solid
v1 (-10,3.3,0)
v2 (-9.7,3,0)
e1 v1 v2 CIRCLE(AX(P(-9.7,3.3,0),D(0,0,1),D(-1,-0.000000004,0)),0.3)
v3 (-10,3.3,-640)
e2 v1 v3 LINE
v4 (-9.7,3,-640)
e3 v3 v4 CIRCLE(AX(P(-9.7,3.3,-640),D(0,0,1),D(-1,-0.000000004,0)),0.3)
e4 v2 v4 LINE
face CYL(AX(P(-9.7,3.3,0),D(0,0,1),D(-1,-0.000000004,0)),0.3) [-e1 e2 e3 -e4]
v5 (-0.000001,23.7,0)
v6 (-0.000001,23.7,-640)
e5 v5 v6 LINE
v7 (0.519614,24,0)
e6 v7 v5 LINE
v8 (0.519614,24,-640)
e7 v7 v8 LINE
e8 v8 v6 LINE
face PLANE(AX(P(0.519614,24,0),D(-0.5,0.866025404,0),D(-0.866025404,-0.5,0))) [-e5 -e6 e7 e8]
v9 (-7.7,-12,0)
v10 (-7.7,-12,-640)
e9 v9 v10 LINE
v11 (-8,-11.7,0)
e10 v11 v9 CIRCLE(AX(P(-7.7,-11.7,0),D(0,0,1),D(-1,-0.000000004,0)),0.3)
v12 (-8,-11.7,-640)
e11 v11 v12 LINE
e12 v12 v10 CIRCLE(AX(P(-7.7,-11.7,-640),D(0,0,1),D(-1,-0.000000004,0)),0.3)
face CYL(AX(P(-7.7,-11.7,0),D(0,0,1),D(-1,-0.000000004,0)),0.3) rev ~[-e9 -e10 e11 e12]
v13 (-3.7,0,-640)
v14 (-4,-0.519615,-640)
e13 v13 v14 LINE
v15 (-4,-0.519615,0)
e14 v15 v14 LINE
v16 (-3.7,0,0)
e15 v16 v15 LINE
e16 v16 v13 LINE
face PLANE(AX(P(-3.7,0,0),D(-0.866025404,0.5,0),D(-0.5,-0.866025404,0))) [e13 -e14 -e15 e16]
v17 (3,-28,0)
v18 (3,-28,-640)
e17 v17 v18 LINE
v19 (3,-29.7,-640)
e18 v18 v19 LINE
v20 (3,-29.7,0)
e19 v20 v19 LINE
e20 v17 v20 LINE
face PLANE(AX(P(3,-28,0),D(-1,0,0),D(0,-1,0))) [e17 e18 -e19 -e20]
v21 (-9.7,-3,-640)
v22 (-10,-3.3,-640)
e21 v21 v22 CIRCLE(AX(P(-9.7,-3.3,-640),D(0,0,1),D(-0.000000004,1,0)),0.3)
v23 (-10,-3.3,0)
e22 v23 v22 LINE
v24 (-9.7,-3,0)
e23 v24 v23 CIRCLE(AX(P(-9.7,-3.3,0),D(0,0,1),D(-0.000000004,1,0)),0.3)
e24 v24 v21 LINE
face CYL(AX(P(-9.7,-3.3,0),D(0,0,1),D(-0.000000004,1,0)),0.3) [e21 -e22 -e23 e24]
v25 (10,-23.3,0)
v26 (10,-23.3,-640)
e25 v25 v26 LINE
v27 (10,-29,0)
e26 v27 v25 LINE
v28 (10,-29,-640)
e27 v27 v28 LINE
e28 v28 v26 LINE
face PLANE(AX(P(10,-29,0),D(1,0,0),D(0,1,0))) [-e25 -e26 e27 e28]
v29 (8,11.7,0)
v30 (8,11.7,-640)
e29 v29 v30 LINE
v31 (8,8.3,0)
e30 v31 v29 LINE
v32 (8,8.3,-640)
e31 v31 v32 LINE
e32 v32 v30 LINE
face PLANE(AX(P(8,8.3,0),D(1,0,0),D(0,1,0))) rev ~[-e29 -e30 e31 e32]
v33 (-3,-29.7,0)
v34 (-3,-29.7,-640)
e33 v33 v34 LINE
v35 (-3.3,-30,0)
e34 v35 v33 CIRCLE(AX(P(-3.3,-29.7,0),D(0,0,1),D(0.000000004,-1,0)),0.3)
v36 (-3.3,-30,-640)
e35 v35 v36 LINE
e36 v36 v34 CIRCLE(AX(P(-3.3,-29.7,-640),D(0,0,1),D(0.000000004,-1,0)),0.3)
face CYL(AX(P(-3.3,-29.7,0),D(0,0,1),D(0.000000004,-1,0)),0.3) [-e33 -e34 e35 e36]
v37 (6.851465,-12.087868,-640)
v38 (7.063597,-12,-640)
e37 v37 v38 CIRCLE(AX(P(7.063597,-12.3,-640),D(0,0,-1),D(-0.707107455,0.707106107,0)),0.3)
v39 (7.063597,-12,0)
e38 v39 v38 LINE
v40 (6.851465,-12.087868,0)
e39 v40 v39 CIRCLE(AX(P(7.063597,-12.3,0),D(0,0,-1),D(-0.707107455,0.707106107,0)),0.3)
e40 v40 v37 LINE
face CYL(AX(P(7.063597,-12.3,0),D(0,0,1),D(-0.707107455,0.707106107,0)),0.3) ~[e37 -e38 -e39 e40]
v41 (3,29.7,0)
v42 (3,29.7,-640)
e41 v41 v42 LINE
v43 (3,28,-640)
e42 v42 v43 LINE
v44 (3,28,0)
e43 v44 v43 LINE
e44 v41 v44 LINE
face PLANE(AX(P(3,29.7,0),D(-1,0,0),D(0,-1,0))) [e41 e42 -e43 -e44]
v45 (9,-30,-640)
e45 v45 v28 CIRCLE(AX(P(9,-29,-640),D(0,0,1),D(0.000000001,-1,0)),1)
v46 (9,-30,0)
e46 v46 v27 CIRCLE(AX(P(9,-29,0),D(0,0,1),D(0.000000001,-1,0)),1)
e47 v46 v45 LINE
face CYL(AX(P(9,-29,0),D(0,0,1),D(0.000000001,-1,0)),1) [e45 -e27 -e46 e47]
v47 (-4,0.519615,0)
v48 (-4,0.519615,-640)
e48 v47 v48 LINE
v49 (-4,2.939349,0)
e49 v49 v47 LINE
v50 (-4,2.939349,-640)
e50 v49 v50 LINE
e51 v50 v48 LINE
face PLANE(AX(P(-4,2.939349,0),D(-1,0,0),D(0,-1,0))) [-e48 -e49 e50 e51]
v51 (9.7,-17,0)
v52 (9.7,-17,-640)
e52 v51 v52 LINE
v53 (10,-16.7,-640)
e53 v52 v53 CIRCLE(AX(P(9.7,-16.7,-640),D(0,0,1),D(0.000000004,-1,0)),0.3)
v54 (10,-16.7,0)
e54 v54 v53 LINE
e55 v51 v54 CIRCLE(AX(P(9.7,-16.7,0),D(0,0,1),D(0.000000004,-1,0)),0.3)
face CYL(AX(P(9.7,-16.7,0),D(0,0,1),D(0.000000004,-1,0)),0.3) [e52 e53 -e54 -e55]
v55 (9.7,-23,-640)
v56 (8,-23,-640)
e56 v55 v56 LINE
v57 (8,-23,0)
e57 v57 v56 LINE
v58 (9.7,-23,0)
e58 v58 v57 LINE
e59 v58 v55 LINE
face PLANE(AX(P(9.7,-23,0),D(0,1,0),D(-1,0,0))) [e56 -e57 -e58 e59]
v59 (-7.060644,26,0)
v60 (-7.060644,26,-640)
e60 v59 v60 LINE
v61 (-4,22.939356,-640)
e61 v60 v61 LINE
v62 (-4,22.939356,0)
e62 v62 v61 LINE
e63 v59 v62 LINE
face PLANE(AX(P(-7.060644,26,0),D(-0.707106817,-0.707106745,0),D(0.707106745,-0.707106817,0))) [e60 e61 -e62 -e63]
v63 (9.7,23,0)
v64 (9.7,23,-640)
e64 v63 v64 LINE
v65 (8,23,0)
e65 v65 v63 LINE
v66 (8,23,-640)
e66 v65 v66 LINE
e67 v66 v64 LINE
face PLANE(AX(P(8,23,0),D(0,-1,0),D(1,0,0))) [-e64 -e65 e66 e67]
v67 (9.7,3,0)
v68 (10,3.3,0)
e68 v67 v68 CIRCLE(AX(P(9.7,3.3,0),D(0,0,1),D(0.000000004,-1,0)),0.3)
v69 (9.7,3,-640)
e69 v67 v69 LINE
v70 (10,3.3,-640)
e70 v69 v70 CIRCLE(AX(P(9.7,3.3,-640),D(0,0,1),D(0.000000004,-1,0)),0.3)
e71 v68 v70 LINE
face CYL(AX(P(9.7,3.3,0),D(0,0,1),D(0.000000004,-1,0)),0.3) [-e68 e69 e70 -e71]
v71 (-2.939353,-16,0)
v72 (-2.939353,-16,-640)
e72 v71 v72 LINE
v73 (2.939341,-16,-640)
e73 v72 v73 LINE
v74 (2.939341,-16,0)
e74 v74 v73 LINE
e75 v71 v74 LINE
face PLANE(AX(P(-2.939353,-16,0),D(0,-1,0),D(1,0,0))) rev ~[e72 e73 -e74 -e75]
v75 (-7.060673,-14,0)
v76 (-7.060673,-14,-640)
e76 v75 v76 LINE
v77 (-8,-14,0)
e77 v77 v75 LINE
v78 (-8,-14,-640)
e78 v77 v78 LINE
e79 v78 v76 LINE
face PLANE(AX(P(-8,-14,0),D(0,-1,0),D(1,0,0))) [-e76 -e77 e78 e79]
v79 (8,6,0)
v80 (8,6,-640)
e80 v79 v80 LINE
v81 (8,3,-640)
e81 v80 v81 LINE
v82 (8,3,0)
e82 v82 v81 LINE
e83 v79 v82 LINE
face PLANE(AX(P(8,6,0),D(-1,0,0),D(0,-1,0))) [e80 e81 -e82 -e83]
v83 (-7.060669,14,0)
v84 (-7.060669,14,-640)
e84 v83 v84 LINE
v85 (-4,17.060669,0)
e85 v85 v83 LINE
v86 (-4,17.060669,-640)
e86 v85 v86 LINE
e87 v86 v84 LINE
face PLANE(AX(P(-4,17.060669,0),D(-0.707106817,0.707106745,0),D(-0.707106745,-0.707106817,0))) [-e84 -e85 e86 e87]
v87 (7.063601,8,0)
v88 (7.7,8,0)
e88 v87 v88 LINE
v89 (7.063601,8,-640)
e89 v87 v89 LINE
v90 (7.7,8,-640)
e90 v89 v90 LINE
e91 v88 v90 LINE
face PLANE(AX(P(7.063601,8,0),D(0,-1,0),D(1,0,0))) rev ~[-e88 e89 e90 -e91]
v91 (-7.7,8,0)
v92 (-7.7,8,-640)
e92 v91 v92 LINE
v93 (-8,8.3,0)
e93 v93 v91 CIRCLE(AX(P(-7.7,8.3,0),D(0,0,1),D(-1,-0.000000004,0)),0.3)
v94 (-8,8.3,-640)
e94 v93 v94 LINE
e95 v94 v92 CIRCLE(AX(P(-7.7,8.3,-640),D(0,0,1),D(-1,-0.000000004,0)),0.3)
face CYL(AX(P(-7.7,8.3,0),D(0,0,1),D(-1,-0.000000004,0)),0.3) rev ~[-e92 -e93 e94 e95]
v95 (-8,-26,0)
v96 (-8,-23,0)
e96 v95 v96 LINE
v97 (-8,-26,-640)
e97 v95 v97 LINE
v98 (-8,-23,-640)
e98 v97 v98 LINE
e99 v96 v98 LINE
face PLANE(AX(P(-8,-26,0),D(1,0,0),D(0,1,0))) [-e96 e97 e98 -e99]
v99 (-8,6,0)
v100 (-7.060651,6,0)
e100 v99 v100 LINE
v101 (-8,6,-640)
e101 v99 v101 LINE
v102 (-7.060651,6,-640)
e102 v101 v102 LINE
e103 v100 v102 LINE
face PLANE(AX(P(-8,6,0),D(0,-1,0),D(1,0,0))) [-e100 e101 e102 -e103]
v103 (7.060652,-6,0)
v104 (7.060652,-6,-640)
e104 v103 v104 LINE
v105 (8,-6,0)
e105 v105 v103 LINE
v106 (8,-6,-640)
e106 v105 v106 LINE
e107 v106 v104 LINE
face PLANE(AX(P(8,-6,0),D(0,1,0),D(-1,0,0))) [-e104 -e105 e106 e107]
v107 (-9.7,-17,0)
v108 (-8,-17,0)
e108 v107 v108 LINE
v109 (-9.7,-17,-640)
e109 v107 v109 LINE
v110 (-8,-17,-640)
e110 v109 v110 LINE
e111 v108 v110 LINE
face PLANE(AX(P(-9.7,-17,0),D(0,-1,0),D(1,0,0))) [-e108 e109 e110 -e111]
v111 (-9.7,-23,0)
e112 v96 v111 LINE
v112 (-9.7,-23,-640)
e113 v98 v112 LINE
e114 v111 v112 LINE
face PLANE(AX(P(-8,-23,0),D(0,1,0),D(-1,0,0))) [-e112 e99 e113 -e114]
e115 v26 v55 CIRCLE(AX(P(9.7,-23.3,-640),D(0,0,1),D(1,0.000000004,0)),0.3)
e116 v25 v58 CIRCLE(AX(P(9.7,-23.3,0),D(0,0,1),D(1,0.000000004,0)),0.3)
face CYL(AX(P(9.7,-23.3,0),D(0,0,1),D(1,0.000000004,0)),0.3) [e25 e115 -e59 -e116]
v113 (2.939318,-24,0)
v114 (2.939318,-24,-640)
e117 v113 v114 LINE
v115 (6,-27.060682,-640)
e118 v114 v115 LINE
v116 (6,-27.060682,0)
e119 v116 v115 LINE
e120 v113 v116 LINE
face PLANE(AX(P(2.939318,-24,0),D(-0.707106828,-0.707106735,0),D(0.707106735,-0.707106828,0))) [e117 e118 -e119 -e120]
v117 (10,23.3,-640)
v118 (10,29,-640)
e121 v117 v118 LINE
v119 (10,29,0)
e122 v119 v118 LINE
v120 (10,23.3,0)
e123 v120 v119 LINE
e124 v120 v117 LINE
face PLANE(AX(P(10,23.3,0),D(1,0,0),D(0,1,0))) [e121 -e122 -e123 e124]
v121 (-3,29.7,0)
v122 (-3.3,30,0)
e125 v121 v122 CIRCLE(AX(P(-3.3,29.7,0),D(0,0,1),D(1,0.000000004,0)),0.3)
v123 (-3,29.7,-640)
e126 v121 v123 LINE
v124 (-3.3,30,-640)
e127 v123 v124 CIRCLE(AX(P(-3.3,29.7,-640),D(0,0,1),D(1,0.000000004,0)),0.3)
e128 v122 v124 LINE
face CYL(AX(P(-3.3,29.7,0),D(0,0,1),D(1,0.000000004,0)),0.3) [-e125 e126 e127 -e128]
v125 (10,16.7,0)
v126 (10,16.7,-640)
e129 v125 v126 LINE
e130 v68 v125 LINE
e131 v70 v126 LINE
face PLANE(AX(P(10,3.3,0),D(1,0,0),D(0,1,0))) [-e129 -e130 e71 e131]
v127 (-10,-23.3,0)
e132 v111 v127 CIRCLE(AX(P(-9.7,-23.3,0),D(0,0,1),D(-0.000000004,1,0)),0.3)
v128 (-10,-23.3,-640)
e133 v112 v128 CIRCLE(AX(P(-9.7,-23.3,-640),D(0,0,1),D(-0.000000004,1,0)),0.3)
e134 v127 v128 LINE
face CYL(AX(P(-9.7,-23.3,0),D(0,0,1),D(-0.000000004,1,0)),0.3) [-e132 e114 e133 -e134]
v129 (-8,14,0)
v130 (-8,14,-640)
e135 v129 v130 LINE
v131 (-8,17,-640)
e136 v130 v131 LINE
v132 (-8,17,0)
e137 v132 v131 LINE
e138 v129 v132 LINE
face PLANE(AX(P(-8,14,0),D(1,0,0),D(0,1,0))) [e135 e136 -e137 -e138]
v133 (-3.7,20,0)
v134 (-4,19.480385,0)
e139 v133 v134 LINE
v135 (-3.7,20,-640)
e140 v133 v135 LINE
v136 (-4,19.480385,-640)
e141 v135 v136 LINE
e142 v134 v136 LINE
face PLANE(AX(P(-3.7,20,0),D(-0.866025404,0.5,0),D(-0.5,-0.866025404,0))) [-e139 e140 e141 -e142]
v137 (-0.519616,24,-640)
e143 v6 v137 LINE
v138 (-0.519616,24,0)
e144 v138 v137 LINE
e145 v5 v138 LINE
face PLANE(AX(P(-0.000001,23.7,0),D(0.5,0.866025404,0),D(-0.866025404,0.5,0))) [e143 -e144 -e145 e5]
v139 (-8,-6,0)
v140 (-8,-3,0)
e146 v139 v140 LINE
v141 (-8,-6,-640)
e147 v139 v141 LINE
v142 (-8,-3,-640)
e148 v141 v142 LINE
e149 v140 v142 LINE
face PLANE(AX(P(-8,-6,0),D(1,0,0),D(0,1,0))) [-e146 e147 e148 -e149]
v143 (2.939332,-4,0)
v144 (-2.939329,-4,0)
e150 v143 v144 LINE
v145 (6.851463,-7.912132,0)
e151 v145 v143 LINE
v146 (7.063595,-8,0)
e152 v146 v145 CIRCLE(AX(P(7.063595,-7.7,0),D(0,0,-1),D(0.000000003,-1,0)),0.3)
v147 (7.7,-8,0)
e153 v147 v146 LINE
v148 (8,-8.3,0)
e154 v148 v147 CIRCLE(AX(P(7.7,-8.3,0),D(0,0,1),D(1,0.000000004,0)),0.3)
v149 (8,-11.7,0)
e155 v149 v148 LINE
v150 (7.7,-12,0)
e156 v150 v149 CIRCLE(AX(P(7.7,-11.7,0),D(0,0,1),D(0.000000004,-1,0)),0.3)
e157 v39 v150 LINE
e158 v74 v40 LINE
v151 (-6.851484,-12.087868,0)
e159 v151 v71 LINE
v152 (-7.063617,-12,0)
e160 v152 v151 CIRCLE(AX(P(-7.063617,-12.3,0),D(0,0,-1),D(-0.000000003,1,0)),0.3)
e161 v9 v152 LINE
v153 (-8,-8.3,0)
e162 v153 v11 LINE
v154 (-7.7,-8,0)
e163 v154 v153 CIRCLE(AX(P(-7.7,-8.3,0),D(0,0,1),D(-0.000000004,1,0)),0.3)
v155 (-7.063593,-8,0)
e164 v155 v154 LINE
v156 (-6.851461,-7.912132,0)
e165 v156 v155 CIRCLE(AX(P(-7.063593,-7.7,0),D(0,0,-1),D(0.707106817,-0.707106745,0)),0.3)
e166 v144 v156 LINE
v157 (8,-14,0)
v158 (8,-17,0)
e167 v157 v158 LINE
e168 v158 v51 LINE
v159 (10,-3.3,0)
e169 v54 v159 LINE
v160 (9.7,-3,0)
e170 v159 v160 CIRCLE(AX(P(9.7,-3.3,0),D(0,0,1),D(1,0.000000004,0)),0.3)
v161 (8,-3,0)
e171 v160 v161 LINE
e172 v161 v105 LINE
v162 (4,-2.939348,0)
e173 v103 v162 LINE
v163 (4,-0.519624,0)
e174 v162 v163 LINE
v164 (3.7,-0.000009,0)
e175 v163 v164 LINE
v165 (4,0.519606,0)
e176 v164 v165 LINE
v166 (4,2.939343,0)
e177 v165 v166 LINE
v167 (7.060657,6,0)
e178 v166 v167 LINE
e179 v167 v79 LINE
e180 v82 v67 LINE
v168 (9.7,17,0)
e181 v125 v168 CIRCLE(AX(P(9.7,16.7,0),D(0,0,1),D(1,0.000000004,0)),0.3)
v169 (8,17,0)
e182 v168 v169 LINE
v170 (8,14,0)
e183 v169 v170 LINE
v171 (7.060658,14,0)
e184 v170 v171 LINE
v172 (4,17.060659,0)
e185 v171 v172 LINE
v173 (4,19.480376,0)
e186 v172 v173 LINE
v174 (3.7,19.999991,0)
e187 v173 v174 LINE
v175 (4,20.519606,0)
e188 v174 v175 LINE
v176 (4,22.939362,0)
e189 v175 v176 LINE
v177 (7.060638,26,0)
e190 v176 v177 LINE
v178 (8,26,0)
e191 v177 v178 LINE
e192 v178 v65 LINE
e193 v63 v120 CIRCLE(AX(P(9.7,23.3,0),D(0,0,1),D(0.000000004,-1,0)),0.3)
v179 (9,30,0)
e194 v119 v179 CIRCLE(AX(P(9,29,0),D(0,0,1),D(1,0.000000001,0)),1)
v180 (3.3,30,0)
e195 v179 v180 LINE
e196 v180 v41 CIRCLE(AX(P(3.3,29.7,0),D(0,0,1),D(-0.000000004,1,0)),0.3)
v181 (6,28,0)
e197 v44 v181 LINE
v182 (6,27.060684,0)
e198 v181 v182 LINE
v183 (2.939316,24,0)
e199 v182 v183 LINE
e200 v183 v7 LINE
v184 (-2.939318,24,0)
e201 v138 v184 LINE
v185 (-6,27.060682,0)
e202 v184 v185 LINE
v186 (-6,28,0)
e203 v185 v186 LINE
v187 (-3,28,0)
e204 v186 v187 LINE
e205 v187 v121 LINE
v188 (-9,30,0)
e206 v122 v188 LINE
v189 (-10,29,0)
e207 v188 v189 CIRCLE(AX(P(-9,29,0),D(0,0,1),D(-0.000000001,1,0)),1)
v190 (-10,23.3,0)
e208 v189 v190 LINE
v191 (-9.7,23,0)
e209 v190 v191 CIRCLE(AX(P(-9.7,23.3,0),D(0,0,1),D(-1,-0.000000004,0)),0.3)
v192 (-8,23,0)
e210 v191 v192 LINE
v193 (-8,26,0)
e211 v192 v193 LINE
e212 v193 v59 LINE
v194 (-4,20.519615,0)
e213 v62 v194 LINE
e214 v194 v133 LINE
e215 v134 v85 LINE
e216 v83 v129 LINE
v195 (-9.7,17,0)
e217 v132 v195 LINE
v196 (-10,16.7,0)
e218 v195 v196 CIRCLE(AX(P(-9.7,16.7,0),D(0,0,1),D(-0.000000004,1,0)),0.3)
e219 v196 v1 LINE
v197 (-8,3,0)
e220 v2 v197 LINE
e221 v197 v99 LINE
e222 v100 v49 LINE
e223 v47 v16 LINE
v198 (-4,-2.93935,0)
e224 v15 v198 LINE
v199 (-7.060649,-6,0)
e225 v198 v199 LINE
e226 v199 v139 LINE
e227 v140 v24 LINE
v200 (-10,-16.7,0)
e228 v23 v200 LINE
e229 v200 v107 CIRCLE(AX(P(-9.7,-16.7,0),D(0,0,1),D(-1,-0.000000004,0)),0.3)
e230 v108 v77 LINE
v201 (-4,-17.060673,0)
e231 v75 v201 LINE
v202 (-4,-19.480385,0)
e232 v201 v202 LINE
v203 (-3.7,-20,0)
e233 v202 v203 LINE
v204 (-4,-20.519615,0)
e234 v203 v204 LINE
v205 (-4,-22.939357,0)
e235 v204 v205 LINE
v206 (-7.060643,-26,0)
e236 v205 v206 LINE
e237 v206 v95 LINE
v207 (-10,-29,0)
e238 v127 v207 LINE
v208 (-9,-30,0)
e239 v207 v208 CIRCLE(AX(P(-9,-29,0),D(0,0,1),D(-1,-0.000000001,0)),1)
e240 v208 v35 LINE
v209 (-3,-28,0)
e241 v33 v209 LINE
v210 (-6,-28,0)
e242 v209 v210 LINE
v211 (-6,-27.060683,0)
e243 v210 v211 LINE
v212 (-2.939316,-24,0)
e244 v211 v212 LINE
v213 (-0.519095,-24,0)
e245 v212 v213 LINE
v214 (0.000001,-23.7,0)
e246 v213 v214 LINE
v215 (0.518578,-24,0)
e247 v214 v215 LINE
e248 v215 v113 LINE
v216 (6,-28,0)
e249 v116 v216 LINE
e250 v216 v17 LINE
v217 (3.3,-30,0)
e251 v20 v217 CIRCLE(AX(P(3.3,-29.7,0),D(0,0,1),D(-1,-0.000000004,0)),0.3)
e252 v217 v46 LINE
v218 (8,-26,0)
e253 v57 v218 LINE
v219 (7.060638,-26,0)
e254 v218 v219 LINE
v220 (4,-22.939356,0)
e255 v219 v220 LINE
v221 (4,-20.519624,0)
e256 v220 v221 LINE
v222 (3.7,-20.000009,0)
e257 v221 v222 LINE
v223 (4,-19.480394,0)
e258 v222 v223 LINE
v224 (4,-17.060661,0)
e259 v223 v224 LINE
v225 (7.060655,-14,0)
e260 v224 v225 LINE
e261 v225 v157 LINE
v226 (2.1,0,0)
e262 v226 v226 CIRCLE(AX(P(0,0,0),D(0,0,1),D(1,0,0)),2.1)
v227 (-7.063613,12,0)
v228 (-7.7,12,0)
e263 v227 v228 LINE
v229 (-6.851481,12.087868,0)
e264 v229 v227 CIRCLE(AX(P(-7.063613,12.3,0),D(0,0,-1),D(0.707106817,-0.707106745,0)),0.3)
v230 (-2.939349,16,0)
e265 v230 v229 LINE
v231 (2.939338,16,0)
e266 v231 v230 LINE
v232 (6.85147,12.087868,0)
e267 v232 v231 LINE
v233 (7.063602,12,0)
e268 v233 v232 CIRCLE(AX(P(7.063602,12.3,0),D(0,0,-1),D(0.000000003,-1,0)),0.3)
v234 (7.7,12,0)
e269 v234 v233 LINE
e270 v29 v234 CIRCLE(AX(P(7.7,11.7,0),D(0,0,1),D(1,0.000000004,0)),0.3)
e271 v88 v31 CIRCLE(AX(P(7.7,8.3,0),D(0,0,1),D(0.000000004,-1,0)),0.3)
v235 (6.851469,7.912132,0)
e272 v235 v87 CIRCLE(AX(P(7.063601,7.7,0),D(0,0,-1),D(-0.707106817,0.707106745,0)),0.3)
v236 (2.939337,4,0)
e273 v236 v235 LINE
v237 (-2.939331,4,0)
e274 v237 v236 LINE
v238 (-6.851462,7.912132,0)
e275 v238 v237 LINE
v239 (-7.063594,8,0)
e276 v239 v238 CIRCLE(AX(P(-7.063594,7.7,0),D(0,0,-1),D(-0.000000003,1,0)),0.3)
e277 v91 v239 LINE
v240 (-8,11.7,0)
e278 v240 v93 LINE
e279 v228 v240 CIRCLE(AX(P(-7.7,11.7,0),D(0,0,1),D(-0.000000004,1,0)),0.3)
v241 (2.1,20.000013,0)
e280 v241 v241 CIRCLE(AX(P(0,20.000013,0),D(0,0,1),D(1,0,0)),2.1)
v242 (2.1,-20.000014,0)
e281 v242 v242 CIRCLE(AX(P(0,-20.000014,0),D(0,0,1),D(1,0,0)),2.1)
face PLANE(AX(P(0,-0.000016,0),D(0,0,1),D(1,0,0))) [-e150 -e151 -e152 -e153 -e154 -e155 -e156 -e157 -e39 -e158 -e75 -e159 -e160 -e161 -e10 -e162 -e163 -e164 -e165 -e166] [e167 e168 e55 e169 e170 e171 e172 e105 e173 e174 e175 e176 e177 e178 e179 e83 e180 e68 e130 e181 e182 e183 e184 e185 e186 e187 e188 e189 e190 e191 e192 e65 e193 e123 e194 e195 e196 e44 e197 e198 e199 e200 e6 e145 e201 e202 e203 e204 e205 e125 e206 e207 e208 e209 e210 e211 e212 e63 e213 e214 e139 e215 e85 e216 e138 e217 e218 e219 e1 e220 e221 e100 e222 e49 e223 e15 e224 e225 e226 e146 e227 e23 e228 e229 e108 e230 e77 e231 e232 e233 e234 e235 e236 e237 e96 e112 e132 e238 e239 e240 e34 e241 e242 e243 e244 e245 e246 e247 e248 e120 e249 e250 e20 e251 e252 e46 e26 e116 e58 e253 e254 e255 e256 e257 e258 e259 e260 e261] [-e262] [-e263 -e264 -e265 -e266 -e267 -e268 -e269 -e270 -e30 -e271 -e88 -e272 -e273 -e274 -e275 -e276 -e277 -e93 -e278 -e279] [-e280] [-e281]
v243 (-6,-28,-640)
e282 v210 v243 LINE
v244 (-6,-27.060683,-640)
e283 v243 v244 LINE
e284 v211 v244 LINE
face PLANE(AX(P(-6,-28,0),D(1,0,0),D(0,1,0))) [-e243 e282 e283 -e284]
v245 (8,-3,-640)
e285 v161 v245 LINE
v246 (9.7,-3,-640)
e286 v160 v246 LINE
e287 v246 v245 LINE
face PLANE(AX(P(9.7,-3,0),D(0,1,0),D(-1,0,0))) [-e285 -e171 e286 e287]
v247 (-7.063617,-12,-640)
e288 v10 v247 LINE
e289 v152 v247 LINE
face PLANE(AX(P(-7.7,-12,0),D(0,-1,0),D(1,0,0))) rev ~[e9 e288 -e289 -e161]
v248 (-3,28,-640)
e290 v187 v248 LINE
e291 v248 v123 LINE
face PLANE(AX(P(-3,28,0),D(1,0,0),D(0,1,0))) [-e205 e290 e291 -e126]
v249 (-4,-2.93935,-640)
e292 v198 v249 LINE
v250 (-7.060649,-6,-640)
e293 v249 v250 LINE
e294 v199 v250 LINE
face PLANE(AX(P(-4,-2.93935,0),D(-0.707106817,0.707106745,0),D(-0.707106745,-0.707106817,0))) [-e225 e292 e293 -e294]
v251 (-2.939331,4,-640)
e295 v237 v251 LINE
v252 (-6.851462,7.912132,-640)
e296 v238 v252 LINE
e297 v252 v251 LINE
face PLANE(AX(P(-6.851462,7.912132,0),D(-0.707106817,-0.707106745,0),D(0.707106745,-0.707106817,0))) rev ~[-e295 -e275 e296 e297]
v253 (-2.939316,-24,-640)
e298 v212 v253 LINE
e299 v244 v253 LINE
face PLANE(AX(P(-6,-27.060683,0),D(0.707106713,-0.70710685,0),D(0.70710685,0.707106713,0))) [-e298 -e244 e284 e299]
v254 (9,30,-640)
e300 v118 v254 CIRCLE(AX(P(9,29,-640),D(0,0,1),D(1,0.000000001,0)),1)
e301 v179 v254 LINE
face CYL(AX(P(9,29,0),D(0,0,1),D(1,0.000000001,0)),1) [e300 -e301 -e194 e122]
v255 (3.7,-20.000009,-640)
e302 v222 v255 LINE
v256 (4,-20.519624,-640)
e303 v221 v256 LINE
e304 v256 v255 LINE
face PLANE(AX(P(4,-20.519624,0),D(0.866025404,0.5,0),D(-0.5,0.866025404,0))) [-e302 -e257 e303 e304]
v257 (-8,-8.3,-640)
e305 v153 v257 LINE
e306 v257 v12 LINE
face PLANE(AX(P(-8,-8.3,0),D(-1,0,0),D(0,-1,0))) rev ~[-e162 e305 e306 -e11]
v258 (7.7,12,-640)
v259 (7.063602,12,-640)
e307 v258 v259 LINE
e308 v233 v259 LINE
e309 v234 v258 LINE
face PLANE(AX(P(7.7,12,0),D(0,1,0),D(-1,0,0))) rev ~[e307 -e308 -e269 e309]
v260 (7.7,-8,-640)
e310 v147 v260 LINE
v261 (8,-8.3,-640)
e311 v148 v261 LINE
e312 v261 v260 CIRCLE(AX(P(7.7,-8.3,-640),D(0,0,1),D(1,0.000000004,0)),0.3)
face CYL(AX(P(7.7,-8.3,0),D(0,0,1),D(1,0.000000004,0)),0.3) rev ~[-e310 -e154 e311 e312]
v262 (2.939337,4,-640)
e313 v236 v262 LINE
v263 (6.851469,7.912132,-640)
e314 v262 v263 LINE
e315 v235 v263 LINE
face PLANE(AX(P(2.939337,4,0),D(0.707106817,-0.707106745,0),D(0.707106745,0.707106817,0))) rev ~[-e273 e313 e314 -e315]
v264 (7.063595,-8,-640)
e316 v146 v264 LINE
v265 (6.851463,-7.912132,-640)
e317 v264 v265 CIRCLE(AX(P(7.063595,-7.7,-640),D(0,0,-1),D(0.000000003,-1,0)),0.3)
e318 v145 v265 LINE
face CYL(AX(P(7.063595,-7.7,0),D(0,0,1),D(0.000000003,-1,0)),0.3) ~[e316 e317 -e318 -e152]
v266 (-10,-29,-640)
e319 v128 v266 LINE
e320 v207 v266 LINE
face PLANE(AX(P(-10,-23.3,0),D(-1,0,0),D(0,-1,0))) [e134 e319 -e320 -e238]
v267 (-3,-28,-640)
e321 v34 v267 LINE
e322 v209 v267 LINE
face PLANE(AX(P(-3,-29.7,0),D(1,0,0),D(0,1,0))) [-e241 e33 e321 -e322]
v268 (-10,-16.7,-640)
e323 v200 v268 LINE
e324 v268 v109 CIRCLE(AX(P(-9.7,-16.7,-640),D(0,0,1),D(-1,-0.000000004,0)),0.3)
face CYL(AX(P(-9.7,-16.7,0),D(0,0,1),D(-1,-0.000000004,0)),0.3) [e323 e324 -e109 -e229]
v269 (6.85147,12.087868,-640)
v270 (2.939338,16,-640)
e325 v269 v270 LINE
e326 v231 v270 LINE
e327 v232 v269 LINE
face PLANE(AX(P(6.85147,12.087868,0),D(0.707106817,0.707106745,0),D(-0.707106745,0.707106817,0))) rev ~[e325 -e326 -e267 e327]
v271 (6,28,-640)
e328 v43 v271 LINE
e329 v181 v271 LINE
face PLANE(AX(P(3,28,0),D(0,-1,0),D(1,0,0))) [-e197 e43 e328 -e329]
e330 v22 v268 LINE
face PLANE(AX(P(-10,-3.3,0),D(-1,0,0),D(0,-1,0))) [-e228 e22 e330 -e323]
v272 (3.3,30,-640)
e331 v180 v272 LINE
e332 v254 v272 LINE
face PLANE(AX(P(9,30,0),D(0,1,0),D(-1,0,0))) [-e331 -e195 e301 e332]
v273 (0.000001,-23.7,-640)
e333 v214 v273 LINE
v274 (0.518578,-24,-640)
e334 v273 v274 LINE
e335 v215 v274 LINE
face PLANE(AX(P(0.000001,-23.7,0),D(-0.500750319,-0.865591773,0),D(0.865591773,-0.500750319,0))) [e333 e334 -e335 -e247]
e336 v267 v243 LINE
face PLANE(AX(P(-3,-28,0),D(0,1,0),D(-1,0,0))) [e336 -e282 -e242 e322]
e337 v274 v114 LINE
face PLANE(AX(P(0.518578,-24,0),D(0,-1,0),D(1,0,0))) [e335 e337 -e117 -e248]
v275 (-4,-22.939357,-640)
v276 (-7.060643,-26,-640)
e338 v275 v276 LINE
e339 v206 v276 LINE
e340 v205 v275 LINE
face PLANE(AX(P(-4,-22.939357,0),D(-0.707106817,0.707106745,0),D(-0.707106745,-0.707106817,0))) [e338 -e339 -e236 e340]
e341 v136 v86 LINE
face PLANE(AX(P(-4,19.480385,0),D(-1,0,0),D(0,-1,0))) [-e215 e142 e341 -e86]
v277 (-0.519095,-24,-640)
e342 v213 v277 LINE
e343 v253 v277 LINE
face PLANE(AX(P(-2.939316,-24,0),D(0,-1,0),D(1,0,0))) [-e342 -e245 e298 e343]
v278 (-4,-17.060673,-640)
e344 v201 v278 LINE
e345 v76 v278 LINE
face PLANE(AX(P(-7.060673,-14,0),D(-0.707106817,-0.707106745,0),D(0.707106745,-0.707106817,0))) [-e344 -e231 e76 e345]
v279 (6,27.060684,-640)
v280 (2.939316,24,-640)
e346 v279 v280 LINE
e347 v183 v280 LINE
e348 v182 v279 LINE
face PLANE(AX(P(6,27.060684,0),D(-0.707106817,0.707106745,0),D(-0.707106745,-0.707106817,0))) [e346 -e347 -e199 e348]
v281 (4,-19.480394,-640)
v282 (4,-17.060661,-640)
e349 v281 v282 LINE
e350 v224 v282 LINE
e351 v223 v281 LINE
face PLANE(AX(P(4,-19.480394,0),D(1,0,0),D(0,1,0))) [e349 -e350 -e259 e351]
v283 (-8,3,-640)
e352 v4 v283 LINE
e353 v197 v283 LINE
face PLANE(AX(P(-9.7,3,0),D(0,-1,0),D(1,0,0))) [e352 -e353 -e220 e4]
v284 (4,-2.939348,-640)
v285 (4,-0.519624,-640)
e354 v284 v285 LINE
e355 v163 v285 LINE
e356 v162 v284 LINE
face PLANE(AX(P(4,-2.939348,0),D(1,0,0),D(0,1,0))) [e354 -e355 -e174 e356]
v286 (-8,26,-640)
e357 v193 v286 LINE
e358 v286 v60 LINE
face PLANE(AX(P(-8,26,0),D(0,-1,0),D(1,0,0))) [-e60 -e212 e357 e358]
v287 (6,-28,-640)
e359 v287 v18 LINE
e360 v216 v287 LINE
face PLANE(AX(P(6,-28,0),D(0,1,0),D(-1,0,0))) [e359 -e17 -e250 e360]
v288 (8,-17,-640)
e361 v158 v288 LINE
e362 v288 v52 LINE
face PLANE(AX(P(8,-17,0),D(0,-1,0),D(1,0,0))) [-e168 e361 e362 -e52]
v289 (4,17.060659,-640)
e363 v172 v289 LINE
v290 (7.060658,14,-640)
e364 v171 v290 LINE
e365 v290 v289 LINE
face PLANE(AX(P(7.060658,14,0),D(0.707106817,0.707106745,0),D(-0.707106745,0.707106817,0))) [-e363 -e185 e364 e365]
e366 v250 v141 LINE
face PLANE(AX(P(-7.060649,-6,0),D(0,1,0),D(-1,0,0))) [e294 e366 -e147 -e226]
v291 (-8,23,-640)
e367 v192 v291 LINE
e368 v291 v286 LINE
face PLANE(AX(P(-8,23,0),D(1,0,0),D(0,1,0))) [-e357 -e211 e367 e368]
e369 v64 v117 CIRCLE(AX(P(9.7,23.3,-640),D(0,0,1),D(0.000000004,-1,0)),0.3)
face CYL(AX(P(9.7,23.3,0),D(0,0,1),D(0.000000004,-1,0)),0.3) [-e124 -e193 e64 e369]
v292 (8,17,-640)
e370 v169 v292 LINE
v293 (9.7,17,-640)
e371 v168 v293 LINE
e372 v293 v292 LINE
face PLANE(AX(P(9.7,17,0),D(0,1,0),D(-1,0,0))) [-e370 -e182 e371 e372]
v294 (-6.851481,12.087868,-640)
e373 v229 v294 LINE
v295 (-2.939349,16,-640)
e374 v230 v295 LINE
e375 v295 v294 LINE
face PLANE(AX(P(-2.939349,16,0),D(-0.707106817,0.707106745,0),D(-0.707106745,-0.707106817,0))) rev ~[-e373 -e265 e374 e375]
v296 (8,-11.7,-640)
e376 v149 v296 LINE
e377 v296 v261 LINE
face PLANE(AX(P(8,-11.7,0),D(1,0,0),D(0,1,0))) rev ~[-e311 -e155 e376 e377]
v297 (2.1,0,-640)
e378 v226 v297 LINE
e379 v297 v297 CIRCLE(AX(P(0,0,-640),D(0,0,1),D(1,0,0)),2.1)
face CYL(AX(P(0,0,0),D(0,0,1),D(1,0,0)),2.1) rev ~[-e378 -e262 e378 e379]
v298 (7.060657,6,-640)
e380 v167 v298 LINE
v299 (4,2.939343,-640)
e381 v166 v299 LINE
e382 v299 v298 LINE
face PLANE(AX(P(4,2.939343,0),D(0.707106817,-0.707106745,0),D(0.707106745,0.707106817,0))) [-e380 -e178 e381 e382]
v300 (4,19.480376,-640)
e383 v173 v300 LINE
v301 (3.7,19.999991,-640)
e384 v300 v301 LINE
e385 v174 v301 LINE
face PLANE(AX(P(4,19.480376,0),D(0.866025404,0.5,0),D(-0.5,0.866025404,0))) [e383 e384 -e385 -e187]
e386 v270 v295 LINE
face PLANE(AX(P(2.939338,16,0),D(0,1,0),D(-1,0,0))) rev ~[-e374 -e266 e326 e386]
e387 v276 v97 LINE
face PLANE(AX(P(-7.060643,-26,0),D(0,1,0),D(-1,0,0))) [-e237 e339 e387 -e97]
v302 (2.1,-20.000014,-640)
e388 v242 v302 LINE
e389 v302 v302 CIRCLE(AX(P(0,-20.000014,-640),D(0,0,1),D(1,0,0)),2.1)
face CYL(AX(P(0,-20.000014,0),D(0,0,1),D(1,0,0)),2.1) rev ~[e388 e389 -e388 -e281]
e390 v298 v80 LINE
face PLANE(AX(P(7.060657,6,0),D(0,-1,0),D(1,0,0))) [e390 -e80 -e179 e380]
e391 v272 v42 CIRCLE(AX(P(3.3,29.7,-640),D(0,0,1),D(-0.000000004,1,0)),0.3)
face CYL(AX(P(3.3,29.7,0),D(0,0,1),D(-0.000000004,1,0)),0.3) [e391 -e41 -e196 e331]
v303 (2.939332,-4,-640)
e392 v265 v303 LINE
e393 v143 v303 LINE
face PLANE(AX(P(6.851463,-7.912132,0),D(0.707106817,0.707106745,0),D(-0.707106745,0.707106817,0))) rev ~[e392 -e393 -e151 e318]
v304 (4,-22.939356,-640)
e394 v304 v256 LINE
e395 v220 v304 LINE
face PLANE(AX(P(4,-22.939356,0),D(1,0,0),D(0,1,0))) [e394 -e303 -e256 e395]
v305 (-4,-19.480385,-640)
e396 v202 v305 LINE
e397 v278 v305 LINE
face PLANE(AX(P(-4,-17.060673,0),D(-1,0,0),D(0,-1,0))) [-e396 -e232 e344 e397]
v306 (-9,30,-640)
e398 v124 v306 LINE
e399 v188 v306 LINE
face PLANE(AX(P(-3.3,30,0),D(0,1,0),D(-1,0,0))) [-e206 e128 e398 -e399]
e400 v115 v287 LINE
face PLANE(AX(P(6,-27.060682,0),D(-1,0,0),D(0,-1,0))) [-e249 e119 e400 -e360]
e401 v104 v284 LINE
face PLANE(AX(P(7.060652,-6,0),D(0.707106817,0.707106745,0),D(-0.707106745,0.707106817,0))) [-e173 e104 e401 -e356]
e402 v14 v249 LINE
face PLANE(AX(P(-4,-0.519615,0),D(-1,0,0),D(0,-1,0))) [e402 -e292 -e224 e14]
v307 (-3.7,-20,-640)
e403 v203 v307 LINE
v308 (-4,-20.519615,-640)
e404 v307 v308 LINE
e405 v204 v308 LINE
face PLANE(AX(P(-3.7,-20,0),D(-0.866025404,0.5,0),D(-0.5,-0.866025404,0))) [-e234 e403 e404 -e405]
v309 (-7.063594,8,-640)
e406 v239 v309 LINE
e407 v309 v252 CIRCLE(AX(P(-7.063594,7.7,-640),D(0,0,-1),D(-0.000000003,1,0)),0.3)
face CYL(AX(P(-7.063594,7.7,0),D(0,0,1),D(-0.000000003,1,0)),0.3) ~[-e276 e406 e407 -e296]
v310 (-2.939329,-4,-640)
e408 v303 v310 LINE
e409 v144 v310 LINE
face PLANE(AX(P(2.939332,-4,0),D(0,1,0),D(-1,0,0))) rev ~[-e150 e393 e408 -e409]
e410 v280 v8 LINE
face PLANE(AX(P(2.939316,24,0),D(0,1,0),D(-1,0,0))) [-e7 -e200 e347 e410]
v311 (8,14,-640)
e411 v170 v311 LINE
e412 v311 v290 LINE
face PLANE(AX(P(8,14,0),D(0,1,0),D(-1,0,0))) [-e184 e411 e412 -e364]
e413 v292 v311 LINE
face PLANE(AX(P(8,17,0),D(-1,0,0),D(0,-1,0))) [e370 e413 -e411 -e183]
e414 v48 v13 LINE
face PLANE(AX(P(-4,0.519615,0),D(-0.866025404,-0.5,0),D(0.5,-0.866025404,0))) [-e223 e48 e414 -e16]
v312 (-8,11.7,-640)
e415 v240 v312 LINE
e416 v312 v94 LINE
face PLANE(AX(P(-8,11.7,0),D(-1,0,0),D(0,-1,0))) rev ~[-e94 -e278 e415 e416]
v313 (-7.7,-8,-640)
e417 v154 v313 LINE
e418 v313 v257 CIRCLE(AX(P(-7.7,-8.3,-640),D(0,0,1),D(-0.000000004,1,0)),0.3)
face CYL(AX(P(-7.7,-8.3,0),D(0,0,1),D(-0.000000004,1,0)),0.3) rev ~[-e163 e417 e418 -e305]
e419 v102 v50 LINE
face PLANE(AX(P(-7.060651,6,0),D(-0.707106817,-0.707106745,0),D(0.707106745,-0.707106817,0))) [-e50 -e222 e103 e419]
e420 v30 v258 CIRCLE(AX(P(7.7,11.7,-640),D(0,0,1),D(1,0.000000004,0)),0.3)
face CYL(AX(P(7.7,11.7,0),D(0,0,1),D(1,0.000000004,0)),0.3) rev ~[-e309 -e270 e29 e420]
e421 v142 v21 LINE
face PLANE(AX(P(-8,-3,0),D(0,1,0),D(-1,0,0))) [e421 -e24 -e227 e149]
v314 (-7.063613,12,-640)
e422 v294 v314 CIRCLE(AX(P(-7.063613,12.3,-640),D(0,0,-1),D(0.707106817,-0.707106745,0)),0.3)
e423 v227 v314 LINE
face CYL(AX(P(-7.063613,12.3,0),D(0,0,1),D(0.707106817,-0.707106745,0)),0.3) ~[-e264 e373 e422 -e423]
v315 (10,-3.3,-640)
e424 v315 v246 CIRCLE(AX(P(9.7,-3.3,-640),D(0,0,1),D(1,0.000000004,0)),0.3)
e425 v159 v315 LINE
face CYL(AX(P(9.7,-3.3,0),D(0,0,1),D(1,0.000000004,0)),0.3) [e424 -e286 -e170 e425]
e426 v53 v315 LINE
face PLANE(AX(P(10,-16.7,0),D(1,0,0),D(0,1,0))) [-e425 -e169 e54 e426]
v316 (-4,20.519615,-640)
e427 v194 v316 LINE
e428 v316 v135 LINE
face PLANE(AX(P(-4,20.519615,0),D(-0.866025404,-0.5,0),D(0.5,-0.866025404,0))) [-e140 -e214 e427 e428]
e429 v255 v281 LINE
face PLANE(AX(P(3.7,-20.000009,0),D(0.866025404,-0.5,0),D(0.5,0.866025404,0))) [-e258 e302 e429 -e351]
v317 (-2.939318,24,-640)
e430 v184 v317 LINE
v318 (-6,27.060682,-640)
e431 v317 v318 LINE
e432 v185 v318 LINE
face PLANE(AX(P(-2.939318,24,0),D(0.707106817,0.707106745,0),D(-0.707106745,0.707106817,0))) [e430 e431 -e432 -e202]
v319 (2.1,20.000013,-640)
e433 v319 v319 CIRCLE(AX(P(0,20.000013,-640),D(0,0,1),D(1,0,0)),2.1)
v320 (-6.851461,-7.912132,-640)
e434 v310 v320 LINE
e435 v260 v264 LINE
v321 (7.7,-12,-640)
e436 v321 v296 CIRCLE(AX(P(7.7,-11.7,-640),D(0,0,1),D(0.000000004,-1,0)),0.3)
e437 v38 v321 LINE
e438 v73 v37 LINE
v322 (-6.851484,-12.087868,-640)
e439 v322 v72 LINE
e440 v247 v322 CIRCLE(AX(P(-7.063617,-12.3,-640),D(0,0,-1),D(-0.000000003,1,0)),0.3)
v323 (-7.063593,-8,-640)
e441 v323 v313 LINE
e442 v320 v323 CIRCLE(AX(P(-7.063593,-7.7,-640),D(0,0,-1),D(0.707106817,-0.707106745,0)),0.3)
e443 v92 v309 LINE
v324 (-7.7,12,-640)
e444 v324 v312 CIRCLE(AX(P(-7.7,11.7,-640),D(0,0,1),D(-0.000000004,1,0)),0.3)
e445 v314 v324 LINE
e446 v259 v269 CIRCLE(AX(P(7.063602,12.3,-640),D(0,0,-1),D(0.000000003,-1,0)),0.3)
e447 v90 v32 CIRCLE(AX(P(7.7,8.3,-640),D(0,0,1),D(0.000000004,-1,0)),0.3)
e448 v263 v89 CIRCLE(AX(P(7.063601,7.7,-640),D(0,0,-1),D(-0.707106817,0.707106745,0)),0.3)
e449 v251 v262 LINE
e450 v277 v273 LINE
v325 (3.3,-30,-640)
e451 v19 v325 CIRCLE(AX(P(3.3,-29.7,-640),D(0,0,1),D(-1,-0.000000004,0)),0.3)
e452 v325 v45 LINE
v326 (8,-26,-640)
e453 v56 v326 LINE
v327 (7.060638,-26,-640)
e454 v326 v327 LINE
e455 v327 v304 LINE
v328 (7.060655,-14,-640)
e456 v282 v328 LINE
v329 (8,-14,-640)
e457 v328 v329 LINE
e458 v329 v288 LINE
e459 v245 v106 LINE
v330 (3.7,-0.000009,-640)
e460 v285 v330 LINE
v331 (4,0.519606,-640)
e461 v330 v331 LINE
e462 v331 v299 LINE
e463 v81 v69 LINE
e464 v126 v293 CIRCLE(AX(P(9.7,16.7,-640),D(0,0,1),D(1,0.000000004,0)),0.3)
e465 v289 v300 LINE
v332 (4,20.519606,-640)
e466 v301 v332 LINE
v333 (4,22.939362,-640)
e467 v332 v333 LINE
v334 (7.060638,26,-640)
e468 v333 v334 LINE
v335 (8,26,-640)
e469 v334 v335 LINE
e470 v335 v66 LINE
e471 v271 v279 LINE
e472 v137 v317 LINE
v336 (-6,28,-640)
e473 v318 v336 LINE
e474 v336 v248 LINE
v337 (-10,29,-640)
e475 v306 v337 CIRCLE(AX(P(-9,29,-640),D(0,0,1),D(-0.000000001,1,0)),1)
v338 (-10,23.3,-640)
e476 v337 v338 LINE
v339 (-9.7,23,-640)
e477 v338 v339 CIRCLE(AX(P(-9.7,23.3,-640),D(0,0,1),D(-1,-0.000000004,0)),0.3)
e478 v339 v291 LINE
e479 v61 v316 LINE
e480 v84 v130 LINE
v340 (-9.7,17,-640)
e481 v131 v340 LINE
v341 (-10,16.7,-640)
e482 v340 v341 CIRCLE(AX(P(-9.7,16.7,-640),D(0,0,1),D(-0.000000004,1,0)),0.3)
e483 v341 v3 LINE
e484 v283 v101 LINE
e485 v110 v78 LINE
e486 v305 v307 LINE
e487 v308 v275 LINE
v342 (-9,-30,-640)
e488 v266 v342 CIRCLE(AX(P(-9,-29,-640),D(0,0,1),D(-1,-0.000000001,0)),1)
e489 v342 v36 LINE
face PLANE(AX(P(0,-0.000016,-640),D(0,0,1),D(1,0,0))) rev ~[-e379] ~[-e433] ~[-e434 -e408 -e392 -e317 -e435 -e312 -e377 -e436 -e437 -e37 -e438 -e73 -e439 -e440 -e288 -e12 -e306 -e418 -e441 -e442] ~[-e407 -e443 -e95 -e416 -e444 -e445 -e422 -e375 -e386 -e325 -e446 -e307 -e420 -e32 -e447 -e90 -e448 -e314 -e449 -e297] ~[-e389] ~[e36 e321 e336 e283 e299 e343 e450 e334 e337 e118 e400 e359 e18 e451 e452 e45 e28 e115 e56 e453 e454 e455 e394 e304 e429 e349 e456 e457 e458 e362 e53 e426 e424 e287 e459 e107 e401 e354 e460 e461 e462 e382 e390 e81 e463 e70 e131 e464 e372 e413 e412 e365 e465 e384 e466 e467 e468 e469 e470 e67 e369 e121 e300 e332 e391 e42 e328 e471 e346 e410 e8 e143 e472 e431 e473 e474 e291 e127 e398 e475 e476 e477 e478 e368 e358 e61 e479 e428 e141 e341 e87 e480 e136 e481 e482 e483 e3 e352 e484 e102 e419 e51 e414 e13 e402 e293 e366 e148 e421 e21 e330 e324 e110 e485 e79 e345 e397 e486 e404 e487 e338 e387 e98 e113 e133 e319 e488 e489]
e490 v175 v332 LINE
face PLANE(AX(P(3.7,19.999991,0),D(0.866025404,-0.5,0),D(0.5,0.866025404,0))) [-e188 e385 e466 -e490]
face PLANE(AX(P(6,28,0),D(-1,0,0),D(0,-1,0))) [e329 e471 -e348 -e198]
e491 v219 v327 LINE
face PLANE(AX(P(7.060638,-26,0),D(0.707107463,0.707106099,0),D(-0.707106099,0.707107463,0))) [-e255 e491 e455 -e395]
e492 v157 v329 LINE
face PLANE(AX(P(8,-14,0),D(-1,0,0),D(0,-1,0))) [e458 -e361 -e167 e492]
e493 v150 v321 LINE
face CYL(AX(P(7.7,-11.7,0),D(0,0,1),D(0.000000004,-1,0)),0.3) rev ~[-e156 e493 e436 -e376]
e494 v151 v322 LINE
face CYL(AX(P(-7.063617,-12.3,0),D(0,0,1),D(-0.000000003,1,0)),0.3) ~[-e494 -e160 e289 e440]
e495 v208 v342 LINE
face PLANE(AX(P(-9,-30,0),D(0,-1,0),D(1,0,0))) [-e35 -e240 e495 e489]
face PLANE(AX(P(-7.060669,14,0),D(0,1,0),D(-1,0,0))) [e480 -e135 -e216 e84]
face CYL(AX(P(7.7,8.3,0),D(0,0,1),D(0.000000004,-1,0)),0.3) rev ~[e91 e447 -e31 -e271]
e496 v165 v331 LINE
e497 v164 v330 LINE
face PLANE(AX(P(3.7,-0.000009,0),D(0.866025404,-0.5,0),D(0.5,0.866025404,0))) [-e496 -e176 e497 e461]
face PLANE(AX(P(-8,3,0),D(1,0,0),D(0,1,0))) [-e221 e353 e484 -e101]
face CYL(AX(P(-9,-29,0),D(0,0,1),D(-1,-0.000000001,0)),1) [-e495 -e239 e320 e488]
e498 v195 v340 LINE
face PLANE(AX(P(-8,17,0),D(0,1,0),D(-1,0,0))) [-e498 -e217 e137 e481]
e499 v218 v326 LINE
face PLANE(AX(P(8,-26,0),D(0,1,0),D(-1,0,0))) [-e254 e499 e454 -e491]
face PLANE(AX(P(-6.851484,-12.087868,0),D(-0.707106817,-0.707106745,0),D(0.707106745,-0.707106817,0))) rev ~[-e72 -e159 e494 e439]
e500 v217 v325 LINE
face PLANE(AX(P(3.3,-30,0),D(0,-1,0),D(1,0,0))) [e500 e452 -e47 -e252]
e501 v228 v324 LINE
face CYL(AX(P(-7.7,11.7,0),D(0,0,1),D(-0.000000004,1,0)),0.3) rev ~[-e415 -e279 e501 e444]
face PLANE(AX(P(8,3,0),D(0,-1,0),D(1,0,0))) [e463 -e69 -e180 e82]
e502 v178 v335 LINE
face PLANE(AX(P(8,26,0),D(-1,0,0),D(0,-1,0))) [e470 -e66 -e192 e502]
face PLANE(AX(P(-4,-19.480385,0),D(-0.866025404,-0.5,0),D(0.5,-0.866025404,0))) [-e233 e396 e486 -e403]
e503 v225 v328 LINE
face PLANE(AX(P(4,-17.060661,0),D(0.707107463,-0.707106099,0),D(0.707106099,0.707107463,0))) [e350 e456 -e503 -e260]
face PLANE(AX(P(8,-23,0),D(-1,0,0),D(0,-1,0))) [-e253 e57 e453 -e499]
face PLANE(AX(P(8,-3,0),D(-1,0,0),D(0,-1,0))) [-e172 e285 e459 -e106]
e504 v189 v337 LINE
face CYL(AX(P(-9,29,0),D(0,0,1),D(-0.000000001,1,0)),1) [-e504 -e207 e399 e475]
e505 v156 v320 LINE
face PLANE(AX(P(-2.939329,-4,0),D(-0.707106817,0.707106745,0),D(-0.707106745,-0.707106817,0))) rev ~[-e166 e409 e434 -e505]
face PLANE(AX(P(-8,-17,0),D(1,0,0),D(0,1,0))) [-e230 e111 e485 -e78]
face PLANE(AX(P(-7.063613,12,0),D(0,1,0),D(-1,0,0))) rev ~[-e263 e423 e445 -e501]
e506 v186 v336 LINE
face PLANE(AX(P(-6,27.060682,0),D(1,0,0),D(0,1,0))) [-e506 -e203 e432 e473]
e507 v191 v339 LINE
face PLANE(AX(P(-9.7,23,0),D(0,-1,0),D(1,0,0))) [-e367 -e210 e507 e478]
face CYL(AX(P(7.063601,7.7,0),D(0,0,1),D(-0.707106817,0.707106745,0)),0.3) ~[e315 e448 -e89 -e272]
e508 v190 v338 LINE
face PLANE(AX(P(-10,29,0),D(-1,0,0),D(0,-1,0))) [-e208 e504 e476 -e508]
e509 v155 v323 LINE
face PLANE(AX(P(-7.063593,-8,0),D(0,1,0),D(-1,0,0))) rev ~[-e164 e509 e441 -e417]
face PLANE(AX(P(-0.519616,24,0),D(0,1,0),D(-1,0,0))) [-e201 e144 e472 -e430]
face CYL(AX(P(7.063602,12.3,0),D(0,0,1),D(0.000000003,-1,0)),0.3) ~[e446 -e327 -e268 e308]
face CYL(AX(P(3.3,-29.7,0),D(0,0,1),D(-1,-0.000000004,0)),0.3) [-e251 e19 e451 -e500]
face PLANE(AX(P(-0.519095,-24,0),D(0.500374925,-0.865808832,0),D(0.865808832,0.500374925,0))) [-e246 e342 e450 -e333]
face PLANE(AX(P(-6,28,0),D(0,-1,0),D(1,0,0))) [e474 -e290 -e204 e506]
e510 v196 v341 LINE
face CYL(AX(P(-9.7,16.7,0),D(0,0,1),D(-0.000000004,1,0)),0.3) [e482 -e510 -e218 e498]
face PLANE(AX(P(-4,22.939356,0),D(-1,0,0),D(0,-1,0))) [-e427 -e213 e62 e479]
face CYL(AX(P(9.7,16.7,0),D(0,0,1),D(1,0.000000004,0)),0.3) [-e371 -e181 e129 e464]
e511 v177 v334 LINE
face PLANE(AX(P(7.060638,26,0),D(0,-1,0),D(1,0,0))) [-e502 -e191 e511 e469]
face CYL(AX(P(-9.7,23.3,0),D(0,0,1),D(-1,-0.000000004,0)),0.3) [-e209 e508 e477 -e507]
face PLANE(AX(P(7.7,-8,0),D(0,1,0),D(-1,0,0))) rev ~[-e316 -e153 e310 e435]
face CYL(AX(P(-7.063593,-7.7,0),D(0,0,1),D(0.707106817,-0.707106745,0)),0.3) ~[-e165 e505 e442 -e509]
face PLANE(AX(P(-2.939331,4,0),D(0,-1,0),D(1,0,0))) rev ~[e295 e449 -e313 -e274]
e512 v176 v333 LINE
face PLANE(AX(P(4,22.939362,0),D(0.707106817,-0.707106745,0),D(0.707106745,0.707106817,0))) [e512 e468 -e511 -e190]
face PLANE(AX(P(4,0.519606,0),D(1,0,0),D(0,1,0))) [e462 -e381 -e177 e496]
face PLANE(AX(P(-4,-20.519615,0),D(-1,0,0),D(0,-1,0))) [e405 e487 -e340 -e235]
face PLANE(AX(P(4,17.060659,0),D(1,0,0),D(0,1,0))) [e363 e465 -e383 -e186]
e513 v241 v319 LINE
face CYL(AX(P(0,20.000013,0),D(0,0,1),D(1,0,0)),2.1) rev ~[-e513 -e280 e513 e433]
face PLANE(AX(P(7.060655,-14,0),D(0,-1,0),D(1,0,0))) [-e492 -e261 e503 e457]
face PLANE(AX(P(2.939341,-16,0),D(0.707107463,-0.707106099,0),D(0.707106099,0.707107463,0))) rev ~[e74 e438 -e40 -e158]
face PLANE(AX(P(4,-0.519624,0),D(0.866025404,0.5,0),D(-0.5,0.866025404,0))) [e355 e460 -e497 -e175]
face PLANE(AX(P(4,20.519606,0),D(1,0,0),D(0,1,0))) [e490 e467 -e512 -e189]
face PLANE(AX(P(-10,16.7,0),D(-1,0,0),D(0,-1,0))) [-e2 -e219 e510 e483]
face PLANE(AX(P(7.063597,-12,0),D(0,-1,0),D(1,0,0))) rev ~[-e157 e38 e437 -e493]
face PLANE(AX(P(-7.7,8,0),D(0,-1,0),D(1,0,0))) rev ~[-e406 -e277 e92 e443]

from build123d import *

# Parameters (mm, degrees)
SKETCH_1_R      = 2.0999999
EXTRUDE_1_DEPTH = 640


with BuildPart() as part:
    # 草圖1 → 填料-伸長1 (new body)
    with BuildSketch(Plane.XY):
        with BuildLine():
            Line((-10, 16.7), (-10, 3.3))
            ThreePointArc((-10, 3.3), (-9.912132034, 3.087867966), (-9.7, 3))
            Line((-9.7, 3), (-8, 3))
            Line((-8, 3), (-8, 6))
            Line((-8, 6), (-7.060650687, 6))
            Line((-7.060650687, 6), (-4, 2.939349))
            Line((-4, 2.939349), (-4, 0.519615242))
            Line((-4, 0.519615242), (-3.7, 0))
            Line((-3.7, 0), (-4, -0.519615242))
            Line((-4, -0.519615242), (-4, -2.9393502))
            Line((-4, -2.9393502), (-7.060649487, -6))
            Line((-7.060649487, -6), (-8, -6))
            Line((-8, -6), (-8, -3))
            Line((-8, -3), (-9.7, -3))
            ThreePointArc((-9.7, -3), (-9.912132034, -3.087867966), (-10, -3.3))
            Line((-10, -3.3), (-10, -16.7))
            ThreePointArc((-10, -16.7), (-9.912132034, -16.912132034), (-9.7, -17))
            Line((-9.7, -17), (-8, -17))
            Line((-8, -17), (-8, -14))
            Line((-8, -14), (-7.060672887, -14))
            Line((-7.060672887, -14), (-4, -17.0606732))
            Line((-4, -17.0606732), (-4, -19.480384758))
            Line((-4, -19.480384758), (-3.7, -20))
            Line((-3.7, -20), (-4, -20.519615242))
            Line((-4, -20.519615242), (-4, -22.93935665))
            Line((-4, -22.93935665), (-7.060643037, -26))
            Line((-7.060643037, -26), (-8, -26))
            Line((-8, -26), (-8, -23))
            Line((-8, -23), (-9.7, -23))
            ThreePointArc((-9.7, -23), (-9.912132034, -23.087867966), (-10, -23.3))
            Line((-10, -23.3), (-10, -29))
            ThreePointArc((-10, -29), (-9.707106781, -29.707106781), (-9, -30))
            Line((-9, -30), (-3.3, -30))
            ThreePointArc((-3.3, -30), (-3.087867966, -29.912132034), (-3, -29.7))
            Line((-3, -29.7), (-3, -28))
            Line((-3, -28), (-6, -28))
            Line((-6, -28), (-6, -27.060683408))
            Line((-6, -27.060683408), (-2.939316, -24))
            Line((-2.939316, -24), (-0.519095055, -24))
            Line((-0.519095055, -24), (1e-06, -23.7))
            Line((1e-06, -23.7), (0.518577868, -24))
            Line((0.518577868, -24), (2.939318, -24))
            Line((2.939318, -24), (6, -27.060682403))
            Line((6, -27.060682403), (6, -28))
            Line((6, -28), (3, -28))
            Line((3, -28), (3, -29.7))
            ThreePointArc((3, -29.7), (3.087867966, -29.912132034), (3.3, -30))
            Line((3.3, -30), (9, -30))
            ThreePointArc((9, -30), (9.707106781, -29.707106781), (10, -29))
            Line((10, -29), (10, -23.3))
            ThreePointArc((10, -23.3), (9.912132034, -23.087867966), (9.7, -23))
            Line((9.7, -23), (8, -23))
            Line((8, -23), (8, -26))
            Line((8, -26), (7.060637687, -26))
            Line((7.060637687, -26), (4, -22.93935641))
            Line((4, -22.93935641), (4, -20.519623992))
            Line((4, -20.519623992), (3.7, -20.00000875))
            Line((3.7, -20.00000875), (4, -19.480393508))
            Line((4, -19.480393508), (4, -17.06066109))
            Line((4, -17.06066109), (7.060655187, -14))
            Line((7.060655187, -14), (8, -14))
            Line((8, -14), (8, -17))
            Line((8, -17), (9.7, -17))
            ThreePointArc((9.7, -17), (9.912132034, -16.912132034), (10, -16.7))
            Line((10, -16.7), (10, -3.3))
            ThreePointArc((10, -3.3), (9.912132034, -3.087867966), (9.7, -3))
            Line((9.7, -3), (8, -3))
            Line((8, -3), (8, -6))
            Line((8, -6), (7.060651537, -6))
            Line((7.060651537, -6), (4, -2.93934815))
            Line((4, -2.93934815), (4, -0.519623992))
            Line((4, -0.519623992), (3.7, -8.75e-06))
            Line((3.7, -8.75e-06), (4, 0.519606492))
            Line((4, 0.519606492), (4, 2.9393426))
            Line((4, 2.9393426), (7.060657087, 6))
            Line((7.060657087, 6), (8, 6))
            Line((8, 6), (8, 3))
            Line((8, 3), (9.7, 3))
            ThreePointArc((9.7, 3), (9.912132034, 3.087867966), (10, 3.3))
            Line((10, 3.3), (10, 16.7))
            ThreePointArc((10, 16.7), (9.912132034, 16.912132034), (9.7, 17))
            Line((9.7, 17), (8, 17))
            Line((8, 17), (8, 14))
            Line((8, 14), (7.06065821, 14))
            Line((7.06065821, 14), (4, 17.060658523))
            Line((4, 17.060658523), (4, 19.480376008))
            Line((4, 19.480376008), (3.7, 19.99999125))
            Line((3.7, 19.99999125), (4, 20.519606492))
            Line((4, 20.519606492), (4, 22.939362173))
            Line((4, 22.939362173), (7.060637514, 26))
            Line((7.060637514, 26), (8, 26))
            Line((8, 26), (8, 23))
            Line((8, 23), (9.7, 23))
            ThreePointArc((9.7, 23), (9.912132034, 23.087867966), (10, 23.3))
            Line((10, 23.3), (10, 29))
            ThreePointArc((10, 29), (9.707106781, 29.707106781), (9, 30))
            Line((9, 30), (3.3, 30))
            ThreePointArc((3.3, 30), (3.087867966, 29.912132034), (3, 29.7))
            Line((3, 29.7), (3, 28))
            Line((3, 28), (6, 28))
            Line((6, 28), (6, 27.060684313))
            Line((6, 27.060684313), (2.939316, 24))
            Line((2.939316, 24), (0.519614242, 24))
            Line((0.519614242, 24), (-1e-06, 23.7))
            Line((-1e-06, 23.7), (-0.519616242, 24))
            Line((-0.519616242, 24), (-2.939318, 24))
            Line((-2.939318, 24), (-6, 27.060682313))
            Line((-6, 27.060682313), (-6, 28))
            Line((-6, 28), (-3, 28))
            Line((-3, 28), (-3, 29.7))
            ThreePointArc((-3, 29.7), (-3.087867966, 29.912132034), (-3.3, 30))
            Line((-3.3, 30), (-9, 30))
            ThreePointArc((-9, 30), (-9.707106781, 29.707106781), (-10, 29))
            Line((-10, 29), (-10, 23.3))
            ThreePointArc((-10, 23.3), (-9.912132034, 23.087867966), (-9.7, 23))
            Line((-9.7, 23), (-8, 23))
            Line((-8, 23), (-8, 26))
            Line((-8, 26), (-7.060644014, 26))
            Line((-7.060644014, 26), (-4, 22.939355673))
            Line((-4, 22.939355673), (-4, 20.519615242))
            Line((-4, 20.519615242), (-3.7, 20))
            Line((-3.7, 20), (-4, 19.480384758))
            Line((-4, 19.480384758), (-4, 17.060669373))
            Line((-4, 17.060669373), (-7.06066906, 14))
            Line((-7.06066906, 14), (-8, 14))
            Line((-8, 14), (-8, 17))
            Line((-8, 17), (-9.7, 17))
            ThreePointArc((-9.7, 17), (-9.912132034, 16.912132034), (-10, 16.7))
        make_face()
        with Locations((0, 20.000013123)):
            Circle(SKETCH_1_R, mode=Mode.SUBTRACT)
        Circle(SKETCH_1_R, mode=Mode.SUBTRACT)
        with Locations((0, -20.000013525)):
            Circle(SKETCH_1_R, mode=Mode.SUBTRACT)
        with BuildLine():
            Line((-7.7, 8), (-7.063594325, 8))
            ThreePointArc((-7.063594325, 8), (-6.948789288, 7.977163857), (-6.85146228, 7.912132024))
            Line((-6.85146228, 7.912132024), (-2.939330656, 4))
            Line((-2.939330656, 4), (2.939337056, 4))
            Line((2.939337056, 4), (6.85146868, 7.912132024))
            ThreePointArc((6.85146868, 7.912132024), (6.948795688, 7.977163857), (7.063600725, 8))
            Line((7.063600725, 8), (7.7, 8))
            ThreePointArc((7.7, 8), (7.912132034, 8.087867966), (8, 8.3))
            Line((8, 8.3), (8, 11.7))
            ThreePointArc((8, 11.7), (7.912132034, 11.912132034), (7.7, 12))
            Line((7.7, 12), (7.063601848, 12))
            ThreePointArc((7.063601848, 12), (6.948796811, 12.022836143), (6.851469803, 12.087867976))
            Line((6.851469803, 12.087867976), (2.939338179, 16))
            Line((2.939338179, 16), (-2.939349029, 16))
            Line((-2.939349029, 16), (-6.851480653, 12.087867976))
            ThreePointArc((-6.851480653, 12.087867976), (-6.948807661, 12.022836143), (-7.063612698, 12))
            Line((-7.063612698, 12), (-7.7, 12))
            ThreePointArc((-7.7, 12), (-7.912132034, 11.912132034), (-8, 11.7))
            Line((-8, 11.7), (-8, 8.3))
            ThreePointArc((-8, 8.3), (-7.912132034, 8.087867966), (-7.7, 8))
        make_face(mode=Mode.SUBTRACT)
        with BuildLine():
            Line((-8, -8.3), (-8, -11.7))
            ThreePointArc((-8, -11.7), (-7.912132034, -11.912132034), (-7.7, -12))
            Line((-7.7, -12), (-7.063616525, -12))
            ThreePointArc((-7.063616525, -12), (-6.948811488, -12.022836143), (-6.85148448, -12.087867976))
            Line((-6.85148448, -12.087867976), (-2.939352856, -16))
            Line((-2.939352856, -16), (2.939340746, -16))
            Line((2.939340746, -16), (6.851465031, -12.08786817))
            ThreePointArc((6.851465031, -12.08786817), (6.948792107, -12.022836196), (7.06359727, -12))
            Line((7.06359727, -12), (7.7, -12))
            ThreePointArc((7.7, -12), (7.912132034, -11.912132034), (8, -11.7))
            Line((8, -11.7), (8, -8.3))
            ThreePointArc((8, -8.3), (7.912132034, -8.087867966), (7.7, -8))
            Line((7.7, -8), (7.063595175, -8))
            ThreePointArc((7.063595175, -8), (6.948790138, -7.977163857), (6.85146313, -7.912132024))
            Line((6.85146313, -7.912132024), (2.939331506, -4))
            Line((2.939331506, -4), (-2.939329456, -4))
            Line((-2.939329456, -4), (-6.85146108, -7.912132024))
            ThreePointArc((-6.85146108, -7.912132024), (-6.948788088, -7.977163857), (-7.063593125, -8))
            Line((-7.063593125, -8), (-7.7, -8))
            ThreePointArc((-7.7, -8), (-7.912132034, -8.087867966), (-8, -8.3))
        make_face(mode=Mode.SUBTRACT)
    extrude(amount=-EXTRUDE_1_DEPTH)


solid = part.part
